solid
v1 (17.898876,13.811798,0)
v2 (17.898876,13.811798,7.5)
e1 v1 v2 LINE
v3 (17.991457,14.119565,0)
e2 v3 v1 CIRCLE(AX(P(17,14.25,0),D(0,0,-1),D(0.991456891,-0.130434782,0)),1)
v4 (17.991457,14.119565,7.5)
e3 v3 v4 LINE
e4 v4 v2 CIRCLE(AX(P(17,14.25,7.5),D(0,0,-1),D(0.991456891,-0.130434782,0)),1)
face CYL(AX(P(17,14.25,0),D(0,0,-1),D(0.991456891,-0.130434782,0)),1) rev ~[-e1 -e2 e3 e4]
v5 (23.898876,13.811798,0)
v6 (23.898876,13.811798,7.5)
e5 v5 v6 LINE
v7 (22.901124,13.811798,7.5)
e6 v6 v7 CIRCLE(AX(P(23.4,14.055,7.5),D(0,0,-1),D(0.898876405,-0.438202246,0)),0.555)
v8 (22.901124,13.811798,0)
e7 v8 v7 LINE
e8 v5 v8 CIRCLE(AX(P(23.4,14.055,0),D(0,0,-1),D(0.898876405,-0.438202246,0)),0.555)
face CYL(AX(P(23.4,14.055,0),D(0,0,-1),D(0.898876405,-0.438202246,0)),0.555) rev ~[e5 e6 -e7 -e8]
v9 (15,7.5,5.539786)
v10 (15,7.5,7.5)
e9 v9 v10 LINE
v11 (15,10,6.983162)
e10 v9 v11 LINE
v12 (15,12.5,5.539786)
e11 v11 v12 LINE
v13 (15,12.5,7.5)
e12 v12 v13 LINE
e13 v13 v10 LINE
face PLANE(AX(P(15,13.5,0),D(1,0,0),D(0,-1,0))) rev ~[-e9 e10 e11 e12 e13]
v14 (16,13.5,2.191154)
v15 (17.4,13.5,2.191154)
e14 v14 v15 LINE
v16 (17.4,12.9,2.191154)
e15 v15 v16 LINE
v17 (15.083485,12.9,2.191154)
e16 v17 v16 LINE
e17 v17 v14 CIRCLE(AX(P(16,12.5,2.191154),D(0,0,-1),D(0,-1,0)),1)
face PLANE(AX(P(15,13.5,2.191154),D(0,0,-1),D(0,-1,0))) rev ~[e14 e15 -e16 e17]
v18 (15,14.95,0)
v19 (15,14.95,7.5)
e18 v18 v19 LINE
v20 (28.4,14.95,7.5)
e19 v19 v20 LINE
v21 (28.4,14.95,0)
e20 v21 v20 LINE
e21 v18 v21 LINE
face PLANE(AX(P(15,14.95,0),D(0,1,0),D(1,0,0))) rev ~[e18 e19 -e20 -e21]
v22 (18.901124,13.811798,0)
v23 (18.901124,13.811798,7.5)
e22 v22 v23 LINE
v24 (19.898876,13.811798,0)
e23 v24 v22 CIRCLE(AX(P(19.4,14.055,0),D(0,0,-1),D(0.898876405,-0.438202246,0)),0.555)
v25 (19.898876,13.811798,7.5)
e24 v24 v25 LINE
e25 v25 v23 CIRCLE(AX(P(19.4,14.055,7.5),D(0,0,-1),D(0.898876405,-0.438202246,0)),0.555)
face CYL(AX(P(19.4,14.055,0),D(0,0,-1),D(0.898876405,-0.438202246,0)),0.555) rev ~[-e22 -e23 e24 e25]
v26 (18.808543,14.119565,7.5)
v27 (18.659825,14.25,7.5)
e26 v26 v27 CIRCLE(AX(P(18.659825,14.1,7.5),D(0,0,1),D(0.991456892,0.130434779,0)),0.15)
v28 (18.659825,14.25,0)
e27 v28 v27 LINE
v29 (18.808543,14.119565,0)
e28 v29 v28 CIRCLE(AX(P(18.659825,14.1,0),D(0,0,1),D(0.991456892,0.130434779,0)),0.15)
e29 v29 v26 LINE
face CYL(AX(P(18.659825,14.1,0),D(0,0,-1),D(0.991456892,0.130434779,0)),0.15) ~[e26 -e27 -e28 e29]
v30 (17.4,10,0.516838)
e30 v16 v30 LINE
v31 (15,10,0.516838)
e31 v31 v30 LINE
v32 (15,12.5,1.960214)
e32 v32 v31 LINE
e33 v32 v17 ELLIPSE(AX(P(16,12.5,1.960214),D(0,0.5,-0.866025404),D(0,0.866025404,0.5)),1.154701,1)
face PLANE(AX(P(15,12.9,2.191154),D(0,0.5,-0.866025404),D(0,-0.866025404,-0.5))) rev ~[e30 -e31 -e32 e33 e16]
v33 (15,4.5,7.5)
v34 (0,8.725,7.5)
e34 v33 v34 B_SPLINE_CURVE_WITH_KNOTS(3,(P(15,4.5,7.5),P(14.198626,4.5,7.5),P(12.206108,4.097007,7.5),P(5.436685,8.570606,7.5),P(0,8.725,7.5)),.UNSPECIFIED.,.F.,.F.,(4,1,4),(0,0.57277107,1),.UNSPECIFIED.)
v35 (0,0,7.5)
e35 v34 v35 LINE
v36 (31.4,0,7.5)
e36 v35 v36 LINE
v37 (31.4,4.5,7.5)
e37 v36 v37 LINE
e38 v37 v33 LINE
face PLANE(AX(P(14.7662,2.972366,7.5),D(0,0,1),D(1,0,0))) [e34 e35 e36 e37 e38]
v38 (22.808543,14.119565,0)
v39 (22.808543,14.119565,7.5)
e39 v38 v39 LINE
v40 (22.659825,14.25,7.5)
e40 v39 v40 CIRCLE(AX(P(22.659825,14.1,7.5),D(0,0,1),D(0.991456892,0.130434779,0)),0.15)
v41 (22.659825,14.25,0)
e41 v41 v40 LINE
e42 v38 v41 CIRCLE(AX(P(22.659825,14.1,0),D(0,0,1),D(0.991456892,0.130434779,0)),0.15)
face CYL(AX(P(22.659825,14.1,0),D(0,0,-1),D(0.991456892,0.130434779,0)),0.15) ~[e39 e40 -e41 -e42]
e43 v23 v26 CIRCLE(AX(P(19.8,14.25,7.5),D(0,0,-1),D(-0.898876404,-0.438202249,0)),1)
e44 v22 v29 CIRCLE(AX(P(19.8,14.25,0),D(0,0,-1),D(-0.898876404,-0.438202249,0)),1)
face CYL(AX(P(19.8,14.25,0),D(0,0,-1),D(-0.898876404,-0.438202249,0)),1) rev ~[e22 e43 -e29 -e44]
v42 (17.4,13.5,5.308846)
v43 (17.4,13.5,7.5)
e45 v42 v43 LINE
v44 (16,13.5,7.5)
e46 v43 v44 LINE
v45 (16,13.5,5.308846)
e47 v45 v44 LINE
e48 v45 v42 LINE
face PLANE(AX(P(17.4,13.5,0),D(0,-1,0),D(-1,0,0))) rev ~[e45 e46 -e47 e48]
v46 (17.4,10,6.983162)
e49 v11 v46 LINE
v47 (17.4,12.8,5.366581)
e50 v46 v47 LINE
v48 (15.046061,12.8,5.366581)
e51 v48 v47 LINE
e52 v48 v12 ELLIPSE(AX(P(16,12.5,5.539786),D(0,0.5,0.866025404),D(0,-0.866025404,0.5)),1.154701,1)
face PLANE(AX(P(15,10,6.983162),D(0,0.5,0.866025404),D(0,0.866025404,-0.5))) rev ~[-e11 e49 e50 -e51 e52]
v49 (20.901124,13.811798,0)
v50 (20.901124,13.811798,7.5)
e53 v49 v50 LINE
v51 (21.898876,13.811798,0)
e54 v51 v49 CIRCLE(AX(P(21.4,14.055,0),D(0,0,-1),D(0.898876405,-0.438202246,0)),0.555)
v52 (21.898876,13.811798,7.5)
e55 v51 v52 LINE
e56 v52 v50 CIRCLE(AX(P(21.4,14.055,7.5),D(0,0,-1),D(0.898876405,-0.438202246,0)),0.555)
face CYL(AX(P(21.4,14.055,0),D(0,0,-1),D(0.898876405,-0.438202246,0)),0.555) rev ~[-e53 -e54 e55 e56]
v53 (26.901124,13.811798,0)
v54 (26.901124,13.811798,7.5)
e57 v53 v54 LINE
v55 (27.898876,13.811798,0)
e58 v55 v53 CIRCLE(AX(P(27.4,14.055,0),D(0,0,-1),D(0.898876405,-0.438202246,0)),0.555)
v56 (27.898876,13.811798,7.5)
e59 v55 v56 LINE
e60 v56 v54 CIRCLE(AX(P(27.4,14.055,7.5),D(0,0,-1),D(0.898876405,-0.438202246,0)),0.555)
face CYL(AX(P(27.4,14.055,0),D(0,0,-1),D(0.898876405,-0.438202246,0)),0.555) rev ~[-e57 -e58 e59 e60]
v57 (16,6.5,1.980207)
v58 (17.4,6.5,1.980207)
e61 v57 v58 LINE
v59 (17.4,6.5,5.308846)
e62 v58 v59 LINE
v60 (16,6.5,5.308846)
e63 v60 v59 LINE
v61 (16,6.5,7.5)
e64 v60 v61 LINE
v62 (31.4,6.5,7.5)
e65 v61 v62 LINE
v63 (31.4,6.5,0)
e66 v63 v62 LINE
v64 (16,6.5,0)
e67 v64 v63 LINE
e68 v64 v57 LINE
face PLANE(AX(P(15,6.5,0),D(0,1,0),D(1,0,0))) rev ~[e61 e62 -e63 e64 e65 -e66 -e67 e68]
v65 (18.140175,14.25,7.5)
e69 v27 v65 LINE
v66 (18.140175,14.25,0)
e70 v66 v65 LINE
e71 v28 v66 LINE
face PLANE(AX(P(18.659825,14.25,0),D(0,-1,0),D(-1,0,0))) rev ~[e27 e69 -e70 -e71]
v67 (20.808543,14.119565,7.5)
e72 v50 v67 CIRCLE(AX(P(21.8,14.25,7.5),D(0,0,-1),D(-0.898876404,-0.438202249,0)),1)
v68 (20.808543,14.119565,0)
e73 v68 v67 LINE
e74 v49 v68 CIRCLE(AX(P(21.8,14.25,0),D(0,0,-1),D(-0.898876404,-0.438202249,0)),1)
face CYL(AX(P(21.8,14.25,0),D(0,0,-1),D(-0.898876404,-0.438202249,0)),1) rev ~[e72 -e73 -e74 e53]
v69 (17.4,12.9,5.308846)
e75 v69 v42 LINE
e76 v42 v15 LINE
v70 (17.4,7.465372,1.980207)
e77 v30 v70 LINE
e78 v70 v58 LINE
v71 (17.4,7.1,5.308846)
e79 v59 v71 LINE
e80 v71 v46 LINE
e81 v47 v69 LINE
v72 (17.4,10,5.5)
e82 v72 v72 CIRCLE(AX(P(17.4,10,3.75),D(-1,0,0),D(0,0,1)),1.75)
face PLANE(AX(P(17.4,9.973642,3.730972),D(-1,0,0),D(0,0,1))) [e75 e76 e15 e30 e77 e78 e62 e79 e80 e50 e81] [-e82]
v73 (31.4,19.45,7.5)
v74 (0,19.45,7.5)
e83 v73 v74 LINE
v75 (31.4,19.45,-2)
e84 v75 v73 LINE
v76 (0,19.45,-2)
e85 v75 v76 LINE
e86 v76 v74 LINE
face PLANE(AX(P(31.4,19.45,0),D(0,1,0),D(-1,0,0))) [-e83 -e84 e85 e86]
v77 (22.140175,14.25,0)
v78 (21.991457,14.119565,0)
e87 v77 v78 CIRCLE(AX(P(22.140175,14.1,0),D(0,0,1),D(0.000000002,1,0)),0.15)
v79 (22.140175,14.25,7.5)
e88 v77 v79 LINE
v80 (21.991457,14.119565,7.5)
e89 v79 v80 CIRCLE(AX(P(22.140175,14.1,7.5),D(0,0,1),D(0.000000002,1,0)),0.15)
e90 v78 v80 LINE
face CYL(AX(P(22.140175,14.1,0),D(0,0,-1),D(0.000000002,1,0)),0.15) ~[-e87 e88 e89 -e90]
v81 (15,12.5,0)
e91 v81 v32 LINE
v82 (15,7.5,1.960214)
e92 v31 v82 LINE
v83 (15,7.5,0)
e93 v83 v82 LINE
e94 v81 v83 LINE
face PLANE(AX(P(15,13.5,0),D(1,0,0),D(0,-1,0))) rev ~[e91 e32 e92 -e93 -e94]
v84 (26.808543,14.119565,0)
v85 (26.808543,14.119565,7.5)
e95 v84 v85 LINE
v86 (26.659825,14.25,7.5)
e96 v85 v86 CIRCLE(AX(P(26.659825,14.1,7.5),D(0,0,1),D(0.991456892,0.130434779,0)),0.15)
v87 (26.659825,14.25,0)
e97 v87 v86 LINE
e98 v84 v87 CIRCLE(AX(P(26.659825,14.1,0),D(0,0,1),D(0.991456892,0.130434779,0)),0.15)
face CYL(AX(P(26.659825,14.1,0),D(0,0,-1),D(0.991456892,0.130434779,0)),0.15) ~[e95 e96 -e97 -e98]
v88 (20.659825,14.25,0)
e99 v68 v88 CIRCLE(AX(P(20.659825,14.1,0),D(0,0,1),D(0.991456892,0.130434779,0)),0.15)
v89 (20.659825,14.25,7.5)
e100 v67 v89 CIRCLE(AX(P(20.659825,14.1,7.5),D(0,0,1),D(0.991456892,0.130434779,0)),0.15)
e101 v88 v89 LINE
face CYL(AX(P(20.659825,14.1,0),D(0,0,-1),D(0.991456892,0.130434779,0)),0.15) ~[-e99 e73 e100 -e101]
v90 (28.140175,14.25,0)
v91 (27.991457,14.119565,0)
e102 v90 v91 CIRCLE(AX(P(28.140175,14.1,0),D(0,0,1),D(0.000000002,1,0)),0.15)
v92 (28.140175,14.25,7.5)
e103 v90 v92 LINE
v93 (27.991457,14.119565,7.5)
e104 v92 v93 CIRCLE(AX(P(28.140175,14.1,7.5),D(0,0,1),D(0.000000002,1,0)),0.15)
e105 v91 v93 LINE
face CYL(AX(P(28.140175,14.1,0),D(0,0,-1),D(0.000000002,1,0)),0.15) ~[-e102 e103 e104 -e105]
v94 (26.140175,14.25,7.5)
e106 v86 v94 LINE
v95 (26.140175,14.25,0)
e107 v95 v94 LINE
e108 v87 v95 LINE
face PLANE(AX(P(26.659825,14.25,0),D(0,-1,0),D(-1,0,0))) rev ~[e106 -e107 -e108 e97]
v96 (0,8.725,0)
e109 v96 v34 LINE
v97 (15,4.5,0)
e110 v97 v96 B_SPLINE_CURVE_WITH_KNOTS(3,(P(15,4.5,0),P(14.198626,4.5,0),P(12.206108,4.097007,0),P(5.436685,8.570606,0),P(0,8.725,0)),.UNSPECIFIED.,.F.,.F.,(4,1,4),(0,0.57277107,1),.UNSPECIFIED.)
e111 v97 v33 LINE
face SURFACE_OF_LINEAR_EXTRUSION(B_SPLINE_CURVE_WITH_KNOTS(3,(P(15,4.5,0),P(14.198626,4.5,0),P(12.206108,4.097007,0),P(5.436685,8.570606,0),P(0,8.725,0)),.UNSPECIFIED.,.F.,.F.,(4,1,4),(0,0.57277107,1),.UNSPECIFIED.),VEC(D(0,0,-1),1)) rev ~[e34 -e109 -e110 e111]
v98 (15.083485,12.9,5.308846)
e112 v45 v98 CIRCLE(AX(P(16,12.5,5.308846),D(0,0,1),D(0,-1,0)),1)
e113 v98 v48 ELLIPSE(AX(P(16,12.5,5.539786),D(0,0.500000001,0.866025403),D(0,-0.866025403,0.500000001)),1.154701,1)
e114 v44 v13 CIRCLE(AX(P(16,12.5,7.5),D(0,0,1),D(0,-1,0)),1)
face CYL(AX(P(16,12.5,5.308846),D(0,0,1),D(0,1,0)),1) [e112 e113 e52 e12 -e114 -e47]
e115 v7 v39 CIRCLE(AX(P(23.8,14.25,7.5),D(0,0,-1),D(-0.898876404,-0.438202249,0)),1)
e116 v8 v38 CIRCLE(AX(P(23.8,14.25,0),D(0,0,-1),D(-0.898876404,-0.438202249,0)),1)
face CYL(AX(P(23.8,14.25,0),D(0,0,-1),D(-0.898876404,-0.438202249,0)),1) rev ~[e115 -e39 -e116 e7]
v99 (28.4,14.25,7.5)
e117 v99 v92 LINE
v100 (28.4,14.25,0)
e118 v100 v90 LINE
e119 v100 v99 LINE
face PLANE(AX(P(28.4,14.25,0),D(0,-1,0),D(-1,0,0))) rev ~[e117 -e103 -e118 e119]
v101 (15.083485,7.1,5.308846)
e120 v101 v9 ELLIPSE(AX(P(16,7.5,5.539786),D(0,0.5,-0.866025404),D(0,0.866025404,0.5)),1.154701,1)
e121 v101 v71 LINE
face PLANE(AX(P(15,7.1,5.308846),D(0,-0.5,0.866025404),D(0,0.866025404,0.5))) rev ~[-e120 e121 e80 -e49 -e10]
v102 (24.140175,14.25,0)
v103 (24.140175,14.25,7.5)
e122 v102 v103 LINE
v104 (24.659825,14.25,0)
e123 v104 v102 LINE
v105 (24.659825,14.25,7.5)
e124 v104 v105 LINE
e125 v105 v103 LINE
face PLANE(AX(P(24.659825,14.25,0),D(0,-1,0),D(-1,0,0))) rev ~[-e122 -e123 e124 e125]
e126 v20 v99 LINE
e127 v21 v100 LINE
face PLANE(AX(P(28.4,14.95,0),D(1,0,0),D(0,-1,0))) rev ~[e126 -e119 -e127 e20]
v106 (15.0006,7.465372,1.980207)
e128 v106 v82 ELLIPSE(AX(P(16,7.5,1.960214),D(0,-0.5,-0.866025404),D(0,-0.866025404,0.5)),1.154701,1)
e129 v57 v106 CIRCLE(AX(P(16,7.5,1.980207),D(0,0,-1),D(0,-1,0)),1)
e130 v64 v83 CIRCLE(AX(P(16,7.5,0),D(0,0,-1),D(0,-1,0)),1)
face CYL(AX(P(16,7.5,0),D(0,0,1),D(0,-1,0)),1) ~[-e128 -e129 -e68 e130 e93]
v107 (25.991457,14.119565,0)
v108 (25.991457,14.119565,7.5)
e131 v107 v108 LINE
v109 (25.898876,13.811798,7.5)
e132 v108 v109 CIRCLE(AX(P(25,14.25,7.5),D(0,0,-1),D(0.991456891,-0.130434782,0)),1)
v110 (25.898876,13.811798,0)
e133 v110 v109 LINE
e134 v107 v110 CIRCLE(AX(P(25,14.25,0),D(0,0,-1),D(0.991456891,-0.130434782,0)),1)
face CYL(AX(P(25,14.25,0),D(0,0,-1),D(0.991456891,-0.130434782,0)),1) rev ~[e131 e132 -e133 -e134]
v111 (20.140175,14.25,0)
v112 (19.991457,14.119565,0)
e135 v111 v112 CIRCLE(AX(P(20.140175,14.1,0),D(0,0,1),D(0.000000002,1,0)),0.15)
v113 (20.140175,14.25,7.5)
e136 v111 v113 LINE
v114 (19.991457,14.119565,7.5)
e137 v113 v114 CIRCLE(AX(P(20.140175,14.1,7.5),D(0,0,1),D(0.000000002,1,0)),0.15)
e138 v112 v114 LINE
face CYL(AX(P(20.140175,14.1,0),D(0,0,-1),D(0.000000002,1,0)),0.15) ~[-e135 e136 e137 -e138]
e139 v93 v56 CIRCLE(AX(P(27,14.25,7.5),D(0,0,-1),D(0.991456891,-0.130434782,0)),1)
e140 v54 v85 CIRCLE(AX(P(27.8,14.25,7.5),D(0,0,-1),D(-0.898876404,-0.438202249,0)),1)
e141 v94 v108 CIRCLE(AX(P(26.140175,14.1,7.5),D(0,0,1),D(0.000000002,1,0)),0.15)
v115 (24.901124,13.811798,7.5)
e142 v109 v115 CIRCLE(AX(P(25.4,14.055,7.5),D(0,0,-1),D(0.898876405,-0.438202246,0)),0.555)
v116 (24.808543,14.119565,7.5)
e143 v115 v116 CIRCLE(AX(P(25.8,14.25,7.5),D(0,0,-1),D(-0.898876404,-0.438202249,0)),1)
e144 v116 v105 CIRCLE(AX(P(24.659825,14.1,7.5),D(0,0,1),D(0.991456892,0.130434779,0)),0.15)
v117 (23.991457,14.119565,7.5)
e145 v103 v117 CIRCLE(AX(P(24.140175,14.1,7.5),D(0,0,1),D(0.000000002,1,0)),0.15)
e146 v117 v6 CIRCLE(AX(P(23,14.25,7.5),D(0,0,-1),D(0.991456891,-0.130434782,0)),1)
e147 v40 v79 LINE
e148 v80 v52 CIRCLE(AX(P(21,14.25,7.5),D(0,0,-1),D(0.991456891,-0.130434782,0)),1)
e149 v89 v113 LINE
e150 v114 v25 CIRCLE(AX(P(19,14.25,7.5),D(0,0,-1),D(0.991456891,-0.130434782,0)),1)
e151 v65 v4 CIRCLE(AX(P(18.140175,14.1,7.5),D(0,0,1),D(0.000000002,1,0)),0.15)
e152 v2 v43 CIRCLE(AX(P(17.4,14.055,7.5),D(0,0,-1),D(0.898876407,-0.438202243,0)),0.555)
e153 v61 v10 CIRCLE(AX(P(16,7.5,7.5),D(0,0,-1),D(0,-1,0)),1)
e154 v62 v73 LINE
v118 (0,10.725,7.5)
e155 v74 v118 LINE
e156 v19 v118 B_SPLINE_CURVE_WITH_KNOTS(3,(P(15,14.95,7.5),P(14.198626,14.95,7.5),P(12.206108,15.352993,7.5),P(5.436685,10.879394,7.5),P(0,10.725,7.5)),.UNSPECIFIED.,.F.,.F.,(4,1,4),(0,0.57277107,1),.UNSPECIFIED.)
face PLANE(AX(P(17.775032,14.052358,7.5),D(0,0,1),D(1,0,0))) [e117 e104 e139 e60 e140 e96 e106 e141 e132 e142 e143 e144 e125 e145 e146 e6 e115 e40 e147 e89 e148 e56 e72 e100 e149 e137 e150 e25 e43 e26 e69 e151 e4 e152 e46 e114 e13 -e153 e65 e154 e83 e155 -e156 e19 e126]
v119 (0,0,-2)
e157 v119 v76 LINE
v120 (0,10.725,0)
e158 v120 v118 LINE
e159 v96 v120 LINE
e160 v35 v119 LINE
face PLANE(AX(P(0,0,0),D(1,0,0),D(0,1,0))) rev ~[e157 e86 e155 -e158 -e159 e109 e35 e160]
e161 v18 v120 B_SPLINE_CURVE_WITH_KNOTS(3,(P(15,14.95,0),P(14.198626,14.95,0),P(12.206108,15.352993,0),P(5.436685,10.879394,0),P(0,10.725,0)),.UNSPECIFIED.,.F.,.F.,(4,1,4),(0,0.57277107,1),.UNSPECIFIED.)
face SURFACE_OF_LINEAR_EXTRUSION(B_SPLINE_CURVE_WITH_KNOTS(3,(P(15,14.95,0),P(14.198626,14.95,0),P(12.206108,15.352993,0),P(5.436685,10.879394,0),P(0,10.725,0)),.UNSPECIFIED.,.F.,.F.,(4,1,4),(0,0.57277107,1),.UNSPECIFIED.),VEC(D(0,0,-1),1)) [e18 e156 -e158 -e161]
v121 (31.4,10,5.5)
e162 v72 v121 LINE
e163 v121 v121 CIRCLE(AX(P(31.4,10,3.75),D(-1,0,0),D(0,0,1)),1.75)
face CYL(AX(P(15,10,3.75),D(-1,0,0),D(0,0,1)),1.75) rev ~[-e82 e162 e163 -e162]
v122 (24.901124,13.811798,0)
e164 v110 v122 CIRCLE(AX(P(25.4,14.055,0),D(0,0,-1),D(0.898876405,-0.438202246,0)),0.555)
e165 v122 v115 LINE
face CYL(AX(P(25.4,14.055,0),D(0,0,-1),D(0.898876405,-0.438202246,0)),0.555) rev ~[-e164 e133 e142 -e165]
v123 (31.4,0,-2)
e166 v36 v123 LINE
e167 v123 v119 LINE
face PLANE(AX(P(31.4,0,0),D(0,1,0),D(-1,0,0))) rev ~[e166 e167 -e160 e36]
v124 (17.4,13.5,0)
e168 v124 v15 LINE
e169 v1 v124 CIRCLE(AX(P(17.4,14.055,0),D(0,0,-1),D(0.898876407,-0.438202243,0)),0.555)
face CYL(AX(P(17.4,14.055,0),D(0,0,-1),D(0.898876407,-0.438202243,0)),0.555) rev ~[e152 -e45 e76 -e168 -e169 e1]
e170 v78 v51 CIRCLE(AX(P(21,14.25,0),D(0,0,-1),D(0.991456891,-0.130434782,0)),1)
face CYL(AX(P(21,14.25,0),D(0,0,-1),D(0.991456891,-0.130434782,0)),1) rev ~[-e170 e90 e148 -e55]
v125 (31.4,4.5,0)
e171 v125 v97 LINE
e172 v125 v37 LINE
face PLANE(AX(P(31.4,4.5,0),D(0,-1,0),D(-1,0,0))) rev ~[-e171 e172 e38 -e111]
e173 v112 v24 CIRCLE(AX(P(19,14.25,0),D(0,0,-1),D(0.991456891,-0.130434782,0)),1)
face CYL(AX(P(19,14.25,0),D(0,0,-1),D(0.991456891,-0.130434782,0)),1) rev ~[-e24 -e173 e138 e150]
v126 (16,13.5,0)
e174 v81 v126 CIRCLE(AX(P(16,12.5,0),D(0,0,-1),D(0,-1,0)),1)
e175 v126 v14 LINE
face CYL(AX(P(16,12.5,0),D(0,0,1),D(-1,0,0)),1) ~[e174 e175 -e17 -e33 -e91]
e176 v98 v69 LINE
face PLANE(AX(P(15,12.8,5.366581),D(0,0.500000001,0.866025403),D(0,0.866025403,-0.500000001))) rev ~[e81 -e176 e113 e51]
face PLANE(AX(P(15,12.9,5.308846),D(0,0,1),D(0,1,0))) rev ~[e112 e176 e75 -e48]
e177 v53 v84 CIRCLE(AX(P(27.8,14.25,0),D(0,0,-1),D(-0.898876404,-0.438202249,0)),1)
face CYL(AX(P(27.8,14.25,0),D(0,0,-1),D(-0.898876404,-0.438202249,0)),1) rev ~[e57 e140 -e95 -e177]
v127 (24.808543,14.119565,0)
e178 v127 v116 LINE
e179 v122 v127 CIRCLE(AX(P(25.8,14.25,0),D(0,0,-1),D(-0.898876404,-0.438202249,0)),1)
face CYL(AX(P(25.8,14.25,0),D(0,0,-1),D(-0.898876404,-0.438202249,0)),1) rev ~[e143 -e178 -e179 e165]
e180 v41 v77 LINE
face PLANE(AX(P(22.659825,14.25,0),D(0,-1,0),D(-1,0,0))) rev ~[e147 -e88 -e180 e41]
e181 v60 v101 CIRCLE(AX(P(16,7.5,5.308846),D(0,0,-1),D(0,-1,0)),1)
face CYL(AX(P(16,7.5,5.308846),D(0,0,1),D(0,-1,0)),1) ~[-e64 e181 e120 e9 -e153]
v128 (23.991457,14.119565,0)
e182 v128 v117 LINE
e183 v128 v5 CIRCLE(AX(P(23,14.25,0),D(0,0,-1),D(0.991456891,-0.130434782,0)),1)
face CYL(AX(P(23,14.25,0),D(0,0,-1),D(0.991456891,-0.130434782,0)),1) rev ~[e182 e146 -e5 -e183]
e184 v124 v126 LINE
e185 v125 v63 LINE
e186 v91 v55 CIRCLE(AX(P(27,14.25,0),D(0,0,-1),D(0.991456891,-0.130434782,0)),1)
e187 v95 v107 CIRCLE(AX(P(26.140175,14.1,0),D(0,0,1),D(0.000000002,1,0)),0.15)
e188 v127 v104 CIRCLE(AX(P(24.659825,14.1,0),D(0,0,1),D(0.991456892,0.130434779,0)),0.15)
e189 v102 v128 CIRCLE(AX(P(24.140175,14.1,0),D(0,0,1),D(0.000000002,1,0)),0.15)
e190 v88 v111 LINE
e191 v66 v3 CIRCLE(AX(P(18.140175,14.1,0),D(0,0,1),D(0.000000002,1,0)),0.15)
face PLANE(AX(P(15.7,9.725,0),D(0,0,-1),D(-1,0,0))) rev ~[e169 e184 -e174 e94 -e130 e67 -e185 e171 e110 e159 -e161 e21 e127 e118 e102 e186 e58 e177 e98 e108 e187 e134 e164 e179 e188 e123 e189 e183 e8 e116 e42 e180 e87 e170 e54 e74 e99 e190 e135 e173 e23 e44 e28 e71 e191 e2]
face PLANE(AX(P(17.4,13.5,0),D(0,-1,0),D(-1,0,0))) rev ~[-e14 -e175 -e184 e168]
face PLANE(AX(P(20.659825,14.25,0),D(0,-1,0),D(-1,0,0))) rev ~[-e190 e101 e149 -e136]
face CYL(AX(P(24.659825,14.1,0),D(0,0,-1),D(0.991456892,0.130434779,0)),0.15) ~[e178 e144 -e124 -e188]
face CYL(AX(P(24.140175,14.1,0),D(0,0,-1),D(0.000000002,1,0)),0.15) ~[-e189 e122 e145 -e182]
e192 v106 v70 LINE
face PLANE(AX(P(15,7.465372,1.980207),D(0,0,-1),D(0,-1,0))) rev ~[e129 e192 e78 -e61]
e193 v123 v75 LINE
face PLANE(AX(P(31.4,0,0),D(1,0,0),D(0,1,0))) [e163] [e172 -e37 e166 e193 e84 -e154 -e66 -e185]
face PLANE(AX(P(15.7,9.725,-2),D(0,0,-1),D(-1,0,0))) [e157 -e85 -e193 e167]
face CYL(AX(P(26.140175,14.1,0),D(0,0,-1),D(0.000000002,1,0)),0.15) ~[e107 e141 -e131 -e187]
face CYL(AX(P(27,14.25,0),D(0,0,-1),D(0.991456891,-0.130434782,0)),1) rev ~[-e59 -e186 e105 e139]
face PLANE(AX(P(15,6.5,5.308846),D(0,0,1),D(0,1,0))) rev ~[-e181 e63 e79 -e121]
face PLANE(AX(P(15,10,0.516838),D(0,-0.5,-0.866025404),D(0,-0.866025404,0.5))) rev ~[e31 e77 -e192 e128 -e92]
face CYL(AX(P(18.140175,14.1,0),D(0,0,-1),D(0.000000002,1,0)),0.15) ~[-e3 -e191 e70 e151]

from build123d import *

# Parameters (mm, degrees)
ESTRUSIONE_ESTRUSIONE1_DEPTH   = 7.5
ESTRUSIONE_ESTRUSIONE1_2_DEPTH = 7.5
SCHIZZO2_W                     = 31.4
SCHIZZO2_H                     = 19.45
ESTRUSIONE_ESTRUSIONE2_DEPTH   = 2
TAGLIO_ESTRUSIONE3_DEPTH       = 2.4
SCHIZZO5_3_R                   = 1.75
TAGLIO_ESTRUSIONE4_DEPTH       = 27.523810222
RACCORDO1_R                    = 1


with BuildPart() as part:
    # Schizzo1 → Estrusione-Estrusione1 (new body)
    with BuildSketch(Plane.XY):
        with BuildLine():
            Line((31.4, 6.5), (31.4, 19.45))
            Line((31.4, 19.45), (0, 19.45))
            Line((0, 19.45), (0, 10.725))
            add(Edge.make_bspline(
                [(15, 14.95), (14.198625643, 14.95), (12.206107526, 15.352992529), (5.436685448, 10.879393873), (0, 10.725)],
                knots=[0, 0, 0, 0, 0.57277107, 1, 1, 1, 1], degree=3))
            Line((15, 14.95), (28.4, 14.95))
            Line((28.4, 14.95), (28.4, 14.25))
            Line((28.4, 14.25), (28.140175425, 14.25))
            ThreePointArc((28.140175425, 14.25), (28.041268354, 14.212771412), (27.991456891, 14.119565217))
            ThreePointArc((27.991456891, 14.119565217), (27.957611714, 13.961937846), (27.898876404, 13.811797753))
            ThreePointArc((27.898876404, 13.811797753), (27.4, 13.5), (26.901123596, 13.811797753))
            ThreePointArc((26.901123596, 13.811797753), (26.842388286, 13.961937846), (26.808543109, 14.119565217))
            ThreePointArc((26.808543109, 14.119565217), (26.758731646, 14.212771412), (26.659824575, 14.25))
            Line((26.659824575, 14.25), (26.140175425, 14.25))
            ThreePointArc((26.140175425, 14.25), (26.041268354, 14.212771412), (25.991456891, 14.119565217))
            ThreePointArc((25.991456891, 14.119565217), (25.957611714, 13.961937846), (25.898876404, 13.811797753))
            ThreePointArc((25.898876404, 13.811797753), (25.4, 13.5), (24.901123596, 13.811797753))
            ThreePointArc((24.901123596, 13.811797753), (24.842388286, 13.961937846), (24.808543109, 14.119565217))
            ThreePointArc((24.808543109, 14.119565217), (24.758731646, 14.212771412), (24.659824575, 14.25))
            Line((24.659824575, 14.25), (24.140175425, 14.25))
            ThreePointArc((24.140175425, 14.25), (24.041268354, 14.212771412), (23.991456891, 14.119565217))
            ThreePointArc((23.991456891, 14.119565217), (23.957611714, 13.961937846), (23.898876404, 13.811797753))
            ThreePointArc((23.898876404, 13.811797753), (23.4, 13.5), (22.901123596, 13.811797753))
            ThreePointArc((22.901123596, 13.811797753), (22.842388286, 13.961937846), (22.808543109, 14.119565217))
            ThreePointArc((22.808543109, 14.119565217), (22.758731646, 14.212771412), (22.659824575, 14.25))
            Line((22.659824575, 14.25), (22.140175425, 14.25))
            ThreePointArc((22.140175425, 14.25), (22.041268354, 14.212771412), (21.991456891, 14.119565217))
            ThreePointArc((21.991456891, 14.119565217), (21.957611714, 13.961937846), (21.898876404, 13.811797753))
            ThreePointArc((21.898876404, 13.811797753), (21.4, 13.5), (20.901123596, 13.811797753))
            ThreePointArc((20.901123596, 13.811797753), (20.842388286, 13.961937846), (20.808543109, 14.119565217))
            ThreePointArc((20.808543109, 14.119565217), (20.758731646, 14.212771412), (20.659824575, 14.25))
            Line((20.659824575, 14.25), (20.140175425, 14.25))
            ThreePointArc((20.140175425, 14.25), (20.041268354, 14.212771412), (19.991456891, 14.119565217))
            ThreePointArc((19.991456891, 14.119565217), (19.957611714, 13.961937846), (19.898876404, 13.811797753))
            ThreePointArc((19.898876404, 13.811797753), (19.4, 13.5), (18.901123596, 13.811797753))
            ThreePointArc((18.901123596, 13.811797753), (18.842388286, 13.961937846), (18.808543109, 14.119565217))
            ThreePointArc((18.808543109, 14.119565217), (18.758731646, 14.212771412), (18.659824575, 14.25))
            Line((18.659824575, 14.25), (18.140175425, 14.25))
            ThreePointArc((18.140175425, 14.25), (18.041268354, 14.212771412), (17.991456891, 14.119565217))
            ThreePointArc((17.991456891, 14.119565217), (17.957611714, 13.961937846), (17.898876404, 13.811797753))
            ThreePointArc((17.898876404, 13.811797753), (17.694149412, 13.584360941), (17.4, 13.5))
            Line((17.4, 13.5), (15, 13.5))
            Line((15, 13.5), (15, 6.5))
            Line((15, 6.5), (31.4, 6.5))
        make_face()
    extrude(amount=ESTRUSIONE_ESTRUSIONE1_DEPTH)



with BuildPart() as body_2:
    # Schizzo1 → Estrusione-Estrusione1 2 (new body)
    with BuildSketch(Plane.XY):
        with BuildLine():
            Line((31.4, 0), (31.4, 4.5))
            Line((31.4, 4.5), (15, 4.5))
            add(Edge.make_bspline(
                [(15, 4.5), (14.198625643, 4.5), (12.206107526, 4.097007471), (5.436685448, 8.570606127), (0, 8.725)],
                knots=[0, 0, 0, 0, 0.57277107, 1, 1, 1, 1], degree=3))
            Line((0, 8.725), (0, 0))
            Line((0, 0), (31.4, 0))
        make_face()
    extrude(amount=ESTRUSIONE_ESTRUSIONE1_2_DEPTH)


with BuildPart() as part_1:
    add(part.part)

    add(body_2.part)  # Estrusione-Estrusione2 merges body 2
    # Schizzo2 → Estrusione-Estrusione2 (add)
    with BuildSketch(Plane(origin=(0, 0, 0), x_dir=(-1, 0, 0), z_dir=(0, 0, -1))):
        with Locations((-15.7, 9.725)):
            Rectangle(SCHIZZO2_W, SCHIZZO2_H)
    extrude(amount=ESTRUSIONE_ESTRUSIONE2_DEPTH)

    # Schizzo5 → Taglio-Estrusione3 (cut)
    with BuildSketch(Plane.ZY.offset(-15)):
        Polygon((5.308845727, 7.1), (6.983161507, 10), (5.366580754, 12.8), (5.308845727, 12.9), (5.308845727, 13.5), (2.191154273, 13.5), (2.191154273, 12.9), (0.516838493, 10), (1.980206835, 7.46537168), (1.980206835, 7.2), (1.980206835, 6.5), (5.308845727, 6.5), align=None)
    extrude(amount=-TAGLIO_ESTRUSIONE3_DEPTH, mode=Mode.SUBTRACT)

    # Schizzo5<3> → Taglio-Estrusione4 (cut, through all)
    with BuildSketch(Plane.ZY.offset(-15)):
        with Locations((3.75, 10)):
            Circle(SCHIZZO5_3_R)
    extrude(amount=-TAGLIO_ESTRUSIONE4_DEPTH, mode=Mode.SUBTRACT)

    # Raccordo1
    raccordo1_edges = [part_1.edges().sort_by_distance(p)[0] for p in [
        (15, 13.5, 6.404422863),
        (15, 13.5, 1.095577137),
        (15, 6.5, 0.990103418),
        (15, 6.5, 6.404422863),
    ]]
    fillet(raccordo1_edges, radius=RACCORDO1_R)


solid = part_1.part
